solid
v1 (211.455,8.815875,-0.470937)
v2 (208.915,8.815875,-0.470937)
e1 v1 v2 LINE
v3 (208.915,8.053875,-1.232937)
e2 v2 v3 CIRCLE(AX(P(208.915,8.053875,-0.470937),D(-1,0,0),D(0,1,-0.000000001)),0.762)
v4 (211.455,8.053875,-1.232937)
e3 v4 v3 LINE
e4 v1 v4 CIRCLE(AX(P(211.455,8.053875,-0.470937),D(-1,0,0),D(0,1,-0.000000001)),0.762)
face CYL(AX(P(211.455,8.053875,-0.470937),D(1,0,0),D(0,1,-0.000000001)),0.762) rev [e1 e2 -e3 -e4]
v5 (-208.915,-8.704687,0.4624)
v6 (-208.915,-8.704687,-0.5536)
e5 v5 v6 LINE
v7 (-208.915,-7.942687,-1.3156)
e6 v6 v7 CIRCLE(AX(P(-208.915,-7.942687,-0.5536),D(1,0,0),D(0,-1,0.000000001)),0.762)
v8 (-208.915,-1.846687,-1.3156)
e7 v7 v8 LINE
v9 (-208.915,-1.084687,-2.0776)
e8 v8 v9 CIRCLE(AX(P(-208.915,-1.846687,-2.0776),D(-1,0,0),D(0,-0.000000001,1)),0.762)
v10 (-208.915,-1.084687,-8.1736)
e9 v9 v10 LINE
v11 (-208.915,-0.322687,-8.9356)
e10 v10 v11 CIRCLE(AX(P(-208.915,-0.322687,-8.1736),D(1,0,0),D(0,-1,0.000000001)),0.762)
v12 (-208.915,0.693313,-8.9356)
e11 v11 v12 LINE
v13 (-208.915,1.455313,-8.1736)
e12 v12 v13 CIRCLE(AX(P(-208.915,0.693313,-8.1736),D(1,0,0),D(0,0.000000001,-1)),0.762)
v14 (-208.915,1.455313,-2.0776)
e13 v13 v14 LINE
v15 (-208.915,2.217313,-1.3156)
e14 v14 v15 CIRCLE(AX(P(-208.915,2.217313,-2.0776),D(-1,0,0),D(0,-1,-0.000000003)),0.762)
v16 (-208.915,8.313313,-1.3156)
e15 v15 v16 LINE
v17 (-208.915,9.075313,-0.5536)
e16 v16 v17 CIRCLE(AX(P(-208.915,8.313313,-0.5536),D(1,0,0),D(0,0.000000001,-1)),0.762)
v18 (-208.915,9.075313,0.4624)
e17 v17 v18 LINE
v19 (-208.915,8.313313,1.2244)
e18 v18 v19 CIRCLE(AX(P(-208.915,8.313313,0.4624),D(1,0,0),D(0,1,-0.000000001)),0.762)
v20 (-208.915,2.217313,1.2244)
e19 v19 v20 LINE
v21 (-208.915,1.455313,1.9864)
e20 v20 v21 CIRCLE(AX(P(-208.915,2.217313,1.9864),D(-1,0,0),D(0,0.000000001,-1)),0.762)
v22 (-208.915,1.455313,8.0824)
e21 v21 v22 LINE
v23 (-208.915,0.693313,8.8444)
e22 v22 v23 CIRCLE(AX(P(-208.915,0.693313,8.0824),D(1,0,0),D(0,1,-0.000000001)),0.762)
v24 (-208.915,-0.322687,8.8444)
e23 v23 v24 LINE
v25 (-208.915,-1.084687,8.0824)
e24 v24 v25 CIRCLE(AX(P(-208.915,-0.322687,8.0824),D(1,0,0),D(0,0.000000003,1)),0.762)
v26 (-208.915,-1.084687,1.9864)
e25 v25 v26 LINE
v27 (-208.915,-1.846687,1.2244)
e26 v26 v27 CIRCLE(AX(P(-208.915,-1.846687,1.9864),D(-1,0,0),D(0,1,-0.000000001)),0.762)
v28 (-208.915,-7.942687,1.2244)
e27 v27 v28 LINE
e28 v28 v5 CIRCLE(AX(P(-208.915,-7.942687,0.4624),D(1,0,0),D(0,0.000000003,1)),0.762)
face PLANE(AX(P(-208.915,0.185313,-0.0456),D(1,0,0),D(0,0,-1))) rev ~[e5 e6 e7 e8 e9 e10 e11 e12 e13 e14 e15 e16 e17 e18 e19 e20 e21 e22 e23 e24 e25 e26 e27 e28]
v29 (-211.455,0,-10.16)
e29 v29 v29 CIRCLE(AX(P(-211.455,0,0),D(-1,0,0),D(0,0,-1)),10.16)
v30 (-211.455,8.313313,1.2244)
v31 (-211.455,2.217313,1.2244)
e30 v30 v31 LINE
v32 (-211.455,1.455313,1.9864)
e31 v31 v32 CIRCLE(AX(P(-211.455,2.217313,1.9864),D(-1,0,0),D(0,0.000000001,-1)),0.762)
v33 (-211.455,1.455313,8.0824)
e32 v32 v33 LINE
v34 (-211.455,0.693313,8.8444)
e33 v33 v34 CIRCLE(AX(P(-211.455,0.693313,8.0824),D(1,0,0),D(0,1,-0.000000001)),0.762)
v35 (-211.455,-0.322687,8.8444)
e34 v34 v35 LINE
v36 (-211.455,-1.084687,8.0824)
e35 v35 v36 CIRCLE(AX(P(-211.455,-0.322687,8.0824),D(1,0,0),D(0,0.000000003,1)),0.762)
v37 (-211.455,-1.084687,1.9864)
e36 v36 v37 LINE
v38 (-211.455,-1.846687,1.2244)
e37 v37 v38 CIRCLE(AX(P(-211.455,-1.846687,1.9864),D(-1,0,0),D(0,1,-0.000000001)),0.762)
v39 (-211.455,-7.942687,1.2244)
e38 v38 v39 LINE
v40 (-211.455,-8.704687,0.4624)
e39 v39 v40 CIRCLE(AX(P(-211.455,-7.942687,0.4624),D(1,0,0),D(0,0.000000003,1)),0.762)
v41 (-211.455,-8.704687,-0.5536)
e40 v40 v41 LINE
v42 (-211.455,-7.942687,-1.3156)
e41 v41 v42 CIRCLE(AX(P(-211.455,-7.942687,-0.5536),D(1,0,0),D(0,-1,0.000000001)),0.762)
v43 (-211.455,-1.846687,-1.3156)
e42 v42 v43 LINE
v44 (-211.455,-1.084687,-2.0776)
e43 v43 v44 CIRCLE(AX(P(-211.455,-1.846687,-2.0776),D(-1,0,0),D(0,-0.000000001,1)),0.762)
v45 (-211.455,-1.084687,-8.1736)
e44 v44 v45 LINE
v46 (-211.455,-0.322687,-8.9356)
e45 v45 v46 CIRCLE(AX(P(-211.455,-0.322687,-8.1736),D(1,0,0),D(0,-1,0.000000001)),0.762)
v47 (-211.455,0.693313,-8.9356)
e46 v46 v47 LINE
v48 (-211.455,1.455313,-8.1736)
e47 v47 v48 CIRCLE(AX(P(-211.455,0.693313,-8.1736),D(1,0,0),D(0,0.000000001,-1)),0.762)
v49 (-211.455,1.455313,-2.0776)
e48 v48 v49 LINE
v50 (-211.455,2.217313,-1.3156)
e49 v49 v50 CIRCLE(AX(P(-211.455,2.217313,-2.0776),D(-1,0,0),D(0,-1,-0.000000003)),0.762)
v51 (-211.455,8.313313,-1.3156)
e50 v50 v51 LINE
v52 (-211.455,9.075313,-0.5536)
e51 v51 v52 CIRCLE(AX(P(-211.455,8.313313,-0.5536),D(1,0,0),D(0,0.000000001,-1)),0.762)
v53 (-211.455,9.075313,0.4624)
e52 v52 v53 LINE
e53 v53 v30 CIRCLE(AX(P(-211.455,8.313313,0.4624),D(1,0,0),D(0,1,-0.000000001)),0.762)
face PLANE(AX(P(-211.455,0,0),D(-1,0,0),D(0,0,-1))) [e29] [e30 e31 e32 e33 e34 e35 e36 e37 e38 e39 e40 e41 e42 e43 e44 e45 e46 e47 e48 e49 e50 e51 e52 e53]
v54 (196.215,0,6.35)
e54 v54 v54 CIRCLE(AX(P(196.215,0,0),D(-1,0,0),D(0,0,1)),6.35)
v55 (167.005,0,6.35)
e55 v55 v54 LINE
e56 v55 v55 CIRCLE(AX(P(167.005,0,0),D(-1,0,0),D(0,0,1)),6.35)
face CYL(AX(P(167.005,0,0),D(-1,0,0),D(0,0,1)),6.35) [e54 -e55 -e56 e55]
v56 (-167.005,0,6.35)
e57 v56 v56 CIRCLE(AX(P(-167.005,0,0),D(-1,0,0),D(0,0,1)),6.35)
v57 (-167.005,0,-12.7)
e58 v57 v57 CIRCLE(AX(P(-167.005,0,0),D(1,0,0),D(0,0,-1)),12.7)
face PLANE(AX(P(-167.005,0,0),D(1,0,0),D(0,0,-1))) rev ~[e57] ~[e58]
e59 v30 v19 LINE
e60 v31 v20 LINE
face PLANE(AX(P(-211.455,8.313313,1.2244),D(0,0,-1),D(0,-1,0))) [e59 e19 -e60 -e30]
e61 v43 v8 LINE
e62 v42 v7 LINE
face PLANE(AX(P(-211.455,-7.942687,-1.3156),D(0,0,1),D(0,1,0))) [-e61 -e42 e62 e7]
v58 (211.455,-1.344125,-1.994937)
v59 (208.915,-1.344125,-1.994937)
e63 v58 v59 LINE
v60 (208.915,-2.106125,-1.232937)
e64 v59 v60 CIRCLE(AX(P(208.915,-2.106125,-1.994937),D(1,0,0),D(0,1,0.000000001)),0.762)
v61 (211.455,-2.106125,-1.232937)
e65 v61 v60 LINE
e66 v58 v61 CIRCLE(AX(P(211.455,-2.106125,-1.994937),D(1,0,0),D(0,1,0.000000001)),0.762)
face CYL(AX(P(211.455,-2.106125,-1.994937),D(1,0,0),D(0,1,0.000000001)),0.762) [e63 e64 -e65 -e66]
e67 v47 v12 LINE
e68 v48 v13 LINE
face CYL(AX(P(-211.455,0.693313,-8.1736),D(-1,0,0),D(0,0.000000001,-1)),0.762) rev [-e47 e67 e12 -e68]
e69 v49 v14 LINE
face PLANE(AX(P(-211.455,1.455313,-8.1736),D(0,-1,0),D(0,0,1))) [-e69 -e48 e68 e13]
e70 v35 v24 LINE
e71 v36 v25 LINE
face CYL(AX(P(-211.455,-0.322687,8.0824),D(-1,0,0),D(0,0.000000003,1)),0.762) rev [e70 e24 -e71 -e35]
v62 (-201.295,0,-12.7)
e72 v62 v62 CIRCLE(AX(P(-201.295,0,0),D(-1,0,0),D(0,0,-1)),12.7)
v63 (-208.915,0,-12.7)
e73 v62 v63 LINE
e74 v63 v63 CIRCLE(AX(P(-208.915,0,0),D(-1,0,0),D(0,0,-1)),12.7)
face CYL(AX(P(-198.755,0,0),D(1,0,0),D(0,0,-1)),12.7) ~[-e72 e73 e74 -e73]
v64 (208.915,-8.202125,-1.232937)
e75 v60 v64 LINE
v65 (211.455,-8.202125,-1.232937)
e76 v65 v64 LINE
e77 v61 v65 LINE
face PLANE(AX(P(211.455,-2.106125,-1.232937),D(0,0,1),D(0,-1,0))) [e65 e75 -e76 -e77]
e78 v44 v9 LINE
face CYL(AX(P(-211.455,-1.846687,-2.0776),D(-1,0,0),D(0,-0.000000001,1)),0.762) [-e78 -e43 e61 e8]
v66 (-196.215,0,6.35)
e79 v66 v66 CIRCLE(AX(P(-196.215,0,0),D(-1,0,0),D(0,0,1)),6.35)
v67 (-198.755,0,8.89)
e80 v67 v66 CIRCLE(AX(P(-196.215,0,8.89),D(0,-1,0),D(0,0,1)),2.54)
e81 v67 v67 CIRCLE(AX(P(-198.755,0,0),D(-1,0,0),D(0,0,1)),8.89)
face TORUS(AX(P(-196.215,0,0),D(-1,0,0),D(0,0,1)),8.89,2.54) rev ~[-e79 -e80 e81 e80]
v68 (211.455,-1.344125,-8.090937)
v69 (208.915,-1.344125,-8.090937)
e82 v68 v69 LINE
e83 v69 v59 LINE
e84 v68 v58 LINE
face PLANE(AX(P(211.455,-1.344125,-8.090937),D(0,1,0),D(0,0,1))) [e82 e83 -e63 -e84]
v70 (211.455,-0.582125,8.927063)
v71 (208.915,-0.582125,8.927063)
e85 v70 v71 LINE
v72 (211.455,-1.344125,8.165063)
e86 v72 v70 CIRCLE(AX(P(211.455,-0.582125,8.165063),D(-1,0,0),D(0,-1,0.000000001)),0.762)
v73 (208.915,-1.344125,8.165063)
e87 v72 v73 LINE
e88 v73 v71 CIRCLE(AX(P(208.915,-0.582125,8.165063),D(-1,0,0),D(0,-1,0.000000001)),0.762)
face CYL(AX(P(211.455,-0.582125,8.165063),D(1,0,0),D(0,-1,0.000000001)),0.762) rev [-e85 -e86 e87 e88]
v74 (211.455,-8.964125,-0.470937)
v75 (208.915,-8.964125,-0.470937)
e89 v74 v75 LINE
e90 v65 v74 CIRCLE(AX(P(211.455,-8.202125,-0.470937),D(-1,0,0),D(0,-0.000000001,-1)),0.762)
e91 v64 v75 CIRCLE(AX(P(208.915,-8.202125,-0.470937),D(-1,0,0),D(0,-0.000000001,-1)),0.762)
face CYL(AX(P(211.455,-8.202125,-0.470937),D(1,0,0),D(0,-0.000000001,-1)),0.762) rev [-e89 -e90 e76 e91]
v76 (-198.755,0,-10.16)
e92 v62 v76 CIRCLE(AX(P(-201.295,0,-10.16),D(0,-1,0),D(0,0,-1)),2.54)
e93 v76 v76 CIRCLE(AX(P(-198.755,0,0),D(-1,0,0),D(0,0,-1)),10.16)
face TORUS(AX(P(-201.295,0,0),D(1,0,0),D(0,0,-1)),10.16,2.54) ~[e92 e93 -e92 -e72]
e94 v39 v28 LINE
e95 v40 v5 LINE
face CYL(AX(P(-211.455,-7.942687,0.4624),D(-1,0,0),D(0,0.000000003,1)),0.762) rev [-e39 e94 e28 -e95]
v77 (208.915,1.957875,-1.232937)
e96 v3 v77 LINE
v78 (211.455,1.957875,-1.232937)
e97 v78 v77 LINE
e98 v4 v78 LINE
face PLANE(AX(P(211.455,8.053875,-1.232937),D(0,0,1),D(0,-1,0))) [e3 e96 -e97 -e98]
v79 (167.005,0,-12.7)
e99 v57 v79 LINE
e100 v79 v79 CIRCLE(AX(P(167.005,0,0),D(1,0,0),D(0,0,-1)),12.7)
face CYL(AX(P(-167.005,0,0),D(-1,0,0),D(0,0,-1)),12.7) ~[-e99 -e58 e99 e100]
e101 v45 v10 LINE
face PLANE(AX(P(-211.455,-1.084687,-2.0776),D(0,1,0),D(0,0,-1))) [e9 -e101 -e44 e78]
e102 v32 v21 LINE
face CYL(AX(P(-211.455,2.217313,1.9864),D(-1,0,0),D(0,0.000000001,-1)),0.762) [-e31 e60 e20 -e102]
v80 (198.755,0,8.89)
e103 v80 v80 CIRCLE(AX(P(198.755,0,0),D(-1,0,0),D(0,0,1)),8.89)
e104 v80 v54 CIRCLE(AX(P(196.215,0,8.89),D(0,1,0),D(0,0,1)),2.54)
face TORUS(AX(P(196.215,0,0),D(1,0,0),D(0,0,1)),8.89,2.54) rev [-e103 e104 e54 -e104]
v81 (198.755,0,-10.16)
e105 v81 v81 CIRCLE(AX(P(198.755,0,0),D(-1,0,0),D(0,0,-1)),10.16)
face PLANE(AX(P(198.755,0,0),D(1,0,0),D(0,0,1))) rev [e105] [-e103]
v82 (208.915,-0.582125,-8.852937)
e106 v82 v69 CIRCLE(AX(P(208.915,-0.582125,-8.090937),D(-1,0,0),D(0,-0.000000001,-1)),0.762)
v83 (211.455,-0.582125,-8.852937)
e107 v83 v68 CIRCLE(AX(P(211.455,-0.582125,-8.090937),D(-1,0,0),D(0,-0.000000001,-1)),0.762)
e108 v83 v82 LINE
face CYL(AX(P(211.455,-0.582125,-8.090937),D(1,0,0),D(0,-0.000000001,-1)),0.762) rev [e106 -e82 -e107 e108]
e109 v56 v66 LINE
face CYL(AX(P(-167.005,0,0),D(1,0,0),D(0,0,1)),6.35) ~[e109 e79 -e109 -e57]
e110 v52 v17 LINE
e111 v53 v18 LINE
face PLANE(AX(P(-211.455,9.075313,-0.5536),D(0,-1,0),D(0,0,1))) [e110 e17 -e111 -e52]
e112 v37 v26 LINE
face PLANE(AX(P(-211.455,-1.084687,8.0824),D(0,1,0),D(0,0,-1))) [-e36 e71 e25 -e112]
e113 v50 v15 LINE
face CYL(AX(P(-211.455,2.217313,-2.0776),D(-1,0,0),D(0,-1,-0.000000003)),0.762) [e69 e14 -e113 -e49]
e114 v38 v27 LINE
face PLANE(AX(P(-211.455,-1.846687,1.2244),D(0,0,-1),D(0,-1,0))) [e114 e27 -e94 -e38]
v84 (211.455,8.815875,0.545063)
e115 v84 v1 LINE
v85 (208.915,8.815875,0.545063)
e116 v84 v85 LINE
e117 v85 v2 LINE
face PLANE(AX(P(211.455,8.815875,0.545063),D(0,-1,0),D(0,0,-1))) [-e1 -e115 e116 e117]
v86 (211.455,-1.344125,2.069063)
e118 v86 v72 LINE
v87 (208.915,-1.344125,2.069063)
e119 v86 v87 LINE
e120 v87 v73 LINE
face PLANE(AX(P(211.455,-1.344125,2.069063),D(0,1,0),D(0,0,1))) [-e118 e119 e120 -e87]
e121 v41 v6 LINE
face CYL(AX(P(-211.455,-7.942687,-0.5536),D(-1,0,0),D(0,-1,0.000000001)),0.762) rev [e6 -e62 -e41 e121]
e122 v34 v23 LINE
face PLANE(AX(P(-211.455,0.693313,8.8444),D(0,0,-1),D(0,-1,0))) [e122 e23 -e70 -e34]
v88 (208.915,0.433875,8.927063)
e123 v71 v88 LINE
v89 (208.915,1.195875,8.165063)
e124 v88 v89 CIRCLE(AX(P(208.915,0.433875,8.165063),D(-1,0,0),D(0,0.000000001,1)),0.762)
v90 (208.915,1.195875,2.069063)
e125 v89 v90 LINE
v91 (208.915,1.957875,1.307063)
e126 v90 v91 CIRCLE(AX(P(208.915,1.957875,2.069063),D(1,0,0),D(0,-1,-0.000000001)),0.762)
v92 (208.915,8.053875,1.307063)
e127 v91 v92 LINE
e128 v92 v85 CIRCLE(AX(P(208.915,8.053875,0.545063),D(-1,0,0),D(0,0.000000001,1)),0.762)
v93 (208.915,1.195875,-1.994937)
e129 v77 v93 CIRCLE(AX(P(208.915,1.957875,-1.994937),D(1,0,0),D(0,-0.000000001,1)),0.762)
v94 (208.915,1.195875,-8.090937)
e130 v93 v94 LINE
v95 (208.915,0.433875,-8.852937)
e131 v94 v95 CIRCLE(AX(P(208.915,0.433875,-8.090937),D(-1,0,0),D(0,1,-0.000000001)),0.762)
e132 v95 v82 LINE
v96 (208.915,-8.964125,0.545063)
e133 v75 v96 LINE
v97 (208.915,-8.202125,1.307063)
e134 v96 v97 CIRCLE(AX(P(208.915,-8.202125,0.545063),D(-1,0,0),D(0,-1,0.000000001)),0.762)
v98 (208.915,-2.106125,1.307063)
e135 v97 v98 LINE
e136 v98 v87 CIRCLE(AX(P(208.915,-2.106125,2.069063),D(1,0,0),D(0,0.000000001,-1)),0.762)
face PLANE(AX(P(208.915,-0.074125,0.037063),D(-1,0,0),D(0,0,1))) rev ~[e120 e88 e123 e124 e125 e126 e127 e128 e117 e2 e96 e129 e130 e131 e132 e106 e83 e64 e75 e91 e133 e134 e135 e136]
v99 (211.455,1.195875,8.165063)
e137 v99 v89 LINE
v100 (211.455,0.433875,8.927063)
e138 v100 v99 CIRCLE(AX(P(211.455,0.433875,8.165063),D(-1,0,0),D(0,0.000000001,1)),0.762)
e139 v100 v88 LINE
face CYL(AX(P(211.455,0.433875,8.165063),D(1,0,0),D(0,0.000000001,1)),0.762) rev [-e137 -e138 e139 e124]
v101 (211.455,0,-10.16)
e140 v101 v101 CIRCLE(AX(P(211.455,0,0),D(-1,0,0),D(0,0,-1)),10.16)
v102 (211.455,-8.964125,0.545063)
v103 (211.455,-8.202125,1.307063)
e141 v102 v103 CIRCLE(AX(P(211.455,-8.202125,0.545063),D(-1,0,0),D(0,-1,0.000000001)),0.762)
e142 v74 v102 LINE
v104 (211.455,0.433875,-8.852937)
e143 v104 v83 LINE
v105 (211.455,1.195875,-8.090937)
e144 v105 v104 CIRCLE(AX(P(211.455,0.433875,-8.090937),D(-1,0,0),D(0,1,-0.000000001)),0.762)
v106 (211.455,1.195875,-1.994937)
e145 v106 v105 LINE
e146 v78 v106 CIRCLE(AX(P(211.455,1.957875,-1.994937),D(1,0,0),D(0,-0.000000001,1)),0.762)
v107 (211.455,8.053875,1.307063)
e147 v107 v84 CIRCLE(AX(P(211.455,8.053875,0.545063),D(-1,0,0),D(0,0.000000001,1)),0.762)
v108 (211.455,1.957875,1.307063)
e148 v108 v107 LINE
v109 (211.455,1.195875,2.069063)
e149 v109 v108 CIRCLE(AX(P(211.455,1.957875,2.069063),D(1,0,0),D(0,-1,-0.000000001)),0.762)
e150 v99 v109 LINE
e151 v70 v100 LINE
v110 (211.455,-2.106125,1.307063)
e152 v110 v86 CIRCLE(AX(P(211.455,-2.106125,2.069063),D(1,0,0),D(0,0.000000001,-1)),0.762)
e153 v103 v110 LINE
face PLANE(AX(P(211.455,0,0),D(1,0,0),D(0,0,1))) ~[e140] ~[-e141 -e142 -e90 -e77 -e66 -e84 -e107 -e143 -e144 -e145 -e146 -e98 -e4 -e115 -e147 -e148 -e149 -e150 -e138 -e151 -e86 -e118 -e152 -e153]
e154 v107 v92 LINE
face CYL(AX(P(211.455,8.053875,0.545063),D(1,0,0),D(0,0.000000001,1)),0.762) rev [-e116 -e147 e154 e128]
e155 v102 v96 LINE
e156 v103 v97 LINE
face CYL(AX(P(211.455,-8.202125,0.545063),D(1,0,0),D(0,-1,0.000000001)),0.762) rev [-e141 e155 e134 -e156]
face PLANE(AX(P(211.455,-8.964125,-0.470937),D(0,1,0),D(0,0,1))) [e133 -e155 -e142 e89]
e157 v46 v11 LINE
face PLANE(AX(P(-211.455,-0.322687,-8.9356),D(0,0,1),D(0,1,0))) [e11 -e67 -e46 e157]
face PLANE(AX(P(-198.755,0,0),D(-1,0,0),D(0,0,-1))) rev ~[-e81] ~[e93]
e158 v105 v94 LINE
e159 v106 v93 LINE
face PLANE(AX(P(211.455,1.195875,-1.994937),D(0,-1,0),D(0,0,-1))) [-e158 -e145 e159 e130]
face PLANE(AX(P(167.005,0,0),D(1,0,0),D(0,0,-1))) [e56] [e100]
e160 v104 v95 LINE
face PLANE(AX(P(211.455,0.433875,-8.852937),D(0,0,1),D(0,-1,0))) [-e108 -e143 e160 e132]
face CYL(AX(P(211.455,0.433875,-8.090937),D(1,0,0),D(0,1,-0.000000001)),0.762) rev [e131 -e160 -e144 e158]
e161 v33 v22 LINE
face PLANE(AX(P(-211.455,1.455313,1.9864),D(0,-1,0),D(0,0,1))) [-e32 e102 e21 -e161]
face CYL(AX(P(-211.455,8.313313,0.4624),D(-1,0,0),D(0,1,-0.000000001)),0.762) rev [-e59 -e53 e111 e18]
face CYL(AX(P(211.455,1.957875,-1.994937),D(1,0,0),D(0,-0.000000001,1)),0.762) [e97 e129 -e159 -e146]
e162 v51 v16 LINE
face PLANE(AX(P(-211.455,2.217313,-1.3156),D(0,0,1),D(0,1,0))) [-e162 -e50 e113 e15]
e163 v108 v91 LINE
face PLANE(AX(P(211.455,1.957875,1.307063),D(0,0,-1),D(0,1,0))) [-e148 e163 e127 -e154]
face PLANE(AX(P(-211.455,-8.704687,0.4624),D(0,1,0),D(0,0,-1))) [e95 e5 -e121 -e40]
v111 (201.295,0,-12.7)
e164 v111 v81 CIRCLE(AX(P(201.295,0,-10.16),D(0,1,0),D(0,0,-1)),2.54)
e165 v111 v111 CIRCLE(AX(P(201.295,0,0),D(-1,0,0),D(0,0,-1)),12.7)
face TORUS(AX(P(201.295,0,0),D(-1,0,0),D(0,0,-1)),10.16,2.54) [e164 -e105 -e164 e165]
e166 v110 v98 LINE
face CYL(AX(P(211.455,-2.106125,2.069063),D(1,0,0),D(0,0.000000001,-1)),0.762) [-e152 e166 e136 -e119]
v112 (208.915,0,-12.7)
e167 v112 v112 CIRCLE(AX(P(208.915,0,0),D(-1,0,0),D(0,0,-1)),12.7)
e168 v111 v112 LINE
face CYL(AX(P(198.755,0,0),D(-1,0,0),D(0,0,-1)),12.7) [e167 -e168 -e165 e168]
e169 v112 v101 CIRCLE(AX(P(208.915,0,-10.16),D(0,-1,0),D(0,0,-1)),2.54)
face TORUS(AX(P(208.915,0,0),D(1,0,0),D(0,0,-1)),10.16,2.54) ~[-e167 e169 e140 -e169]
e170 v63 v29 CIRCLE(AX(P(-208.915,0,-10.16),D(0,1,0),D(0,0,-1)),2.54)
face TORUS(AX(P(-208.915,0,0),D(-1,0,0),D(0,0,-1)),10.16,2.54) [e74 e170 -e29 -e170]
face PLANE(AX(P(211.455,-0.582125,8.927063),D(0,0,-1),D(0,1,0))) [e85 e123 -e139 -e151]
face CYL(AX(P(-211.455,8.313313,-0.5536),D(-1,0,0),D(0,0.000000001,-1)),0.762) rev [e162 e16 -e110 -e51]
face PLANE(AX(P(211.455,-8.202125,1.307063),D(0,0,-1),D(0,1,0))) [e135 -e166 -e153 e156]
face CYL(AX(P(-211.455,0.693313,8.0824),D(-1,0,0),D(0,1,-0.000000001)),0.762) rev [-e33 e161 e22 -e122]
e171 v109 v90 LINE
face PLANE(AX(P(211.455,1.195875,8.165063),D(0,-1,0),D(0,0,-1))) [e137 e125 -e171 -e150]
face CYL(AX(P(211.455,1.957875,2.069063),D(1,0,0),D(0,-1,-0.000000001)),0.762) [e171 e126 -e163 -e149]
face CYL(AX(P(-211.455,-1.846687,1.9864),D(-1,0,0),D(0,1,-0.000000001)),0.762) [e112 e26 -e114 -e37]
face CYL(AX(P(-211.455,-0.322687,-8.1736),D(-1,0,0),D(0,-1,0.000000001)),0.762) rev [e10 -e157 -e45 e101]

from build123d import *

# Parameters (mm, degrees)
BOSS_EXTRUDE1_DEPTH      = 167.005
BOSS_EXTRUDE1_DEPTH_BACK = 167.005
SKETCH1_R                = 12.7
SKETCH2_R                = 6.35
BOSS_EXTRUDE2_DEPTH      = 31.75
SKETCH3_R                = 12.7
BOSS_EXTRUDE3_DEPTH      = 12.7
FILLET1_R                = 2.54
CUT_EXTRUDE1_DEPTH       = 2.54
FILLET2_R                = 2.54
CUT_EXTRUDE2_DEPTH       = 2.54


with BuildPart() as part:
    # Sketch1 → Boss-Extrude1 (new, two sides: drawn at the far end of the back side and taken through both)
    with BuildSketch(Plane(origin=(0, 0, 0), x_dir=(0, 0, -1), z_dir=(1, 0, 0)).offset(-BOSS_EXTRUDE1_DEPTH_BACK)):
        Circle(SKETCH1_R)
    extrude(amount=BOSS_EXTRUDE1_DEPTH + BOSS_EXTRUDE1_DEPTH_BACK)

    # Sketch2 → Boss-Extrude2 (add)
    with BuildSketch(Plane.ZY.offset(167.005)):
        Circle(SKETCH2_R)
    boss_extrude2 = extrude(amount=BOSS_EXTRUDE2_DEPTH)

    # Sketch3 → Boss-Extrude3 (add)
    with BuildSketch(Plane.ZY.offset(198.755)):
        Circle(SKETCH3_R)
    boss_extrude3 = extrude(amount=BOSS_EXTRUDE3_DEPTH)

    # Fillet1
    fillet1_edges = [part.edges().sort_by_distance(p)[0] for p in [
        (-211.455, 0, -12.7),
        (-198.755, 0, -12.7),
        (-198.755, 0, -6.35),
    ]]
    fillet(fillet1_edges, radius=FILLET1_R)

    # Sketch4 → Cut-Extrude1 (cut)
    with BuildSketch(Plane.ZY.offset(211.455)):
        with BuildLine():
            Line((-0.553600339, 9.075313461), (0.462399661, 9.075313461))
            ThreePointArc((0.462399661, 9.075313461), (1.001215029, 8.852128828), (1.224399661, 8.313313461))
            Line((1.224399661, 8.313313461), (1.224399661, 2.217313461))
            ThreePointArc((1.224399661, 2.217313461), (1.447584294, 1.678498093), (1.986399661, 1.455313461))
            Line((1.986399661, 1.455313461), (8.082399661, 1.455313461))
            ThreePointArc((8.082399661, 1.455313461), (8.621215029, 1.232128828), (8.844399661, 0.693313461))
            Line((8.844399661, 0.693313461), (8.844399661, -0.322686539))
            ThreePointArc((8.844399661, -0.322686539), (8.621215029, -0.861501907), (8.082399661, -1.084686539))
            Line((8.082399661, -1.084686539), (1.986399661, -1.084686539))
            ThreePointArc((1.986399661, -1.084686539), (1.447584294, -1.307871172), (1.224399661, -1.846686539))
            Line((1.224399661, -1.846686539), (1.224399661, -7.942686539))
            ThreePointArc((1.224399661, -7.942686539), (1.001215029, -8.481501907), (0.462399661, -8.704686539))
            Line((0.462399661, -8.704686539), (-0.553600339, -8.704686539))
            ThreePointArc((-0.553600339, -8.704686539), (-1.092415706, -8.481501907), (-1.315600339, -7.942686539))
            Line((-1.315600339, -7.942686539), (-1.315600339, -1.846686539))
            ThreePointArc((-1.315600339, -1.846686539), (-1.538784971, -1.307871172), (-2.077600339, -1.084686539))
            Line((-2.077600339, -1.084686539), (-8.173600339, -1.084686539))
            ThreePointArc((-8.173600339, -1.084686539), (-8.712415706, -0.861501907), (-8.935600339, -0.322686539))
            Line((-8.935600339, -0.322686539), (-8.935600339, 0.693313461))
            ThreePointArc((-8.935600339, 0.693313461), (-8.712415706, 1.232128828), (-8.173600339, 1.455313461))
            Line((-8.173600339, 1.455313461), (-2.077600339, 1.455313461))
            ThreePointArc((-2.077600339, 1.455313461), (-1.538784971, 1.678498093), (-1.315600339, 2.217313461))
            Line((-1.315600339, 2.217313461), (-1.315600339, 8.313313461))
            ThreePointArc((-1.315600339, 8.313313461), (-1.092415706, 8.852128828), (-0.553600339, 9.075313461))
        make_face()
    extrude(amount=-CUT_EXTRUDE1_DEPTH, mode=Mode.SUBTRACT)

    # Mirror1: Boss-Extrude2, Boss-Extrude3 across plane
    add(boss_extrude2.mirror(Plane(origin=(0, 0, 0), x_dir=(0, 0, 1), z_dir=(1, 0, 0))))
    add(boss_extrude3.mirror(Plane(origin=(0, 0, 0), x_dir=(0, 0, 1), z_dir=(1, 0, 0))))

    # Fillet2
    fillet2_edges = [part.edges().sort_by_distance(p)[0] for p in [
        (198.755, 0, -6.35),
        (198.755, 0, -12.7),
        (211.455, 0, -12.7),
    ]]
    fillet(fillet2_edges, radius=FILLET2_R)

    # Sketch5 → Cut-Extrude2 (cut)
    with BuildSketch(Plane(origin=(211.455, 0, 0), x_dir=(0, 0, -1), z_dir=(1, 0, 0))):
        with BuildLine():
            Line((-0.545062692, 8.815874616), (0.470937308, 8.815874616))
            ThreePointArc((0.470937308, 8.815874616), (1.009752675, 8.592689983), (1.232937308, 8.053874616))
            Line((1.232937308, 8.053874616), (1.232937308, 1.957874616))
            ThreePointArc((1.232937308, 1.957874616), (1.456121941, 1.419059249), (1.994937308, 1.195874616))
            Line((1.994937308, 1.195874616), (8.090937308, 1.195874616))
            ThreePointArc((8.090937308, 1.195874616), (8.629752675, 0.972689983), (8.852937308, 0.433874616))
            Line((8.852937308, 0.433874616), (8.852937308, -0.582125384))
            ThreePointArc((8.852937308, -0.582125384), (8.629752675, -1.120940751), (8.090937308, -1.344125384))
            Line((8.090937308, -1.344125384), (1.994937308, -1.344125384))
            ThreePointArc((1.994937308, -1.344125384), (1.456121941, -1.567310017), (1.232937308, -2.106125384))
            Line((1.232937308, -2.106125384), (1.232937308, -8.202125384))
            ThreePointArc((1.232937308, -8.202125384), (1.009752675, -8.740940751), (0.470937308, -8.964125384))
            Line((0.470937308, -8.964125384), (-0.545062692, -8.964125384))
            ThreePointArc((-0.545062692, -8.964125384), (-1.083878059, -8.740940751), (-1.307062692, -8.202125384))
            Line((-1.307062692, -8.202125384), (-1.307062692, -2.106125384))
            ThreePointArc((-1.307062692, -2.106125384), (-1.530247325, -1.567310017), (-2.069062692, -1.344125384))
            Line((-2.069062692, -1.344125384), (-8.165062692, -1.344125384))
            ThreePointArc((-8.165062692, -1.344125384), (-8.703878059, -1.120940751), (-8.927062692, -0.582125384))
            Line((-8.927062692, -0.582125384), (-8.927062692, 0.433874616))
            ThreePointArc((-8.927062692, 0.433874616), (-8.703878059, 0.972689983), (-8.165062692, 1.195874616))
            Line((-8.165062692, 1.195874616), (-2.069062692, 1.195874616))
            ThreePointArc((-2.069062692, 1.195874616), (-1.530247325, 1.419059249), (-1.307062692, 1.957874616))
            Line((-1.307062692, 1.957874616), (-1.307062692, 8.053874616))
            ThreePointArc((-1.307062692, 8.053874616), (-1.083878059, 8.592689983), (-0.545062692, 8.815874616))
        make_face()
    extrude(amount=-CUT_EXTRUDE2_DEPTH, mode=Mode.SUBTRACT)


solid = part.part
